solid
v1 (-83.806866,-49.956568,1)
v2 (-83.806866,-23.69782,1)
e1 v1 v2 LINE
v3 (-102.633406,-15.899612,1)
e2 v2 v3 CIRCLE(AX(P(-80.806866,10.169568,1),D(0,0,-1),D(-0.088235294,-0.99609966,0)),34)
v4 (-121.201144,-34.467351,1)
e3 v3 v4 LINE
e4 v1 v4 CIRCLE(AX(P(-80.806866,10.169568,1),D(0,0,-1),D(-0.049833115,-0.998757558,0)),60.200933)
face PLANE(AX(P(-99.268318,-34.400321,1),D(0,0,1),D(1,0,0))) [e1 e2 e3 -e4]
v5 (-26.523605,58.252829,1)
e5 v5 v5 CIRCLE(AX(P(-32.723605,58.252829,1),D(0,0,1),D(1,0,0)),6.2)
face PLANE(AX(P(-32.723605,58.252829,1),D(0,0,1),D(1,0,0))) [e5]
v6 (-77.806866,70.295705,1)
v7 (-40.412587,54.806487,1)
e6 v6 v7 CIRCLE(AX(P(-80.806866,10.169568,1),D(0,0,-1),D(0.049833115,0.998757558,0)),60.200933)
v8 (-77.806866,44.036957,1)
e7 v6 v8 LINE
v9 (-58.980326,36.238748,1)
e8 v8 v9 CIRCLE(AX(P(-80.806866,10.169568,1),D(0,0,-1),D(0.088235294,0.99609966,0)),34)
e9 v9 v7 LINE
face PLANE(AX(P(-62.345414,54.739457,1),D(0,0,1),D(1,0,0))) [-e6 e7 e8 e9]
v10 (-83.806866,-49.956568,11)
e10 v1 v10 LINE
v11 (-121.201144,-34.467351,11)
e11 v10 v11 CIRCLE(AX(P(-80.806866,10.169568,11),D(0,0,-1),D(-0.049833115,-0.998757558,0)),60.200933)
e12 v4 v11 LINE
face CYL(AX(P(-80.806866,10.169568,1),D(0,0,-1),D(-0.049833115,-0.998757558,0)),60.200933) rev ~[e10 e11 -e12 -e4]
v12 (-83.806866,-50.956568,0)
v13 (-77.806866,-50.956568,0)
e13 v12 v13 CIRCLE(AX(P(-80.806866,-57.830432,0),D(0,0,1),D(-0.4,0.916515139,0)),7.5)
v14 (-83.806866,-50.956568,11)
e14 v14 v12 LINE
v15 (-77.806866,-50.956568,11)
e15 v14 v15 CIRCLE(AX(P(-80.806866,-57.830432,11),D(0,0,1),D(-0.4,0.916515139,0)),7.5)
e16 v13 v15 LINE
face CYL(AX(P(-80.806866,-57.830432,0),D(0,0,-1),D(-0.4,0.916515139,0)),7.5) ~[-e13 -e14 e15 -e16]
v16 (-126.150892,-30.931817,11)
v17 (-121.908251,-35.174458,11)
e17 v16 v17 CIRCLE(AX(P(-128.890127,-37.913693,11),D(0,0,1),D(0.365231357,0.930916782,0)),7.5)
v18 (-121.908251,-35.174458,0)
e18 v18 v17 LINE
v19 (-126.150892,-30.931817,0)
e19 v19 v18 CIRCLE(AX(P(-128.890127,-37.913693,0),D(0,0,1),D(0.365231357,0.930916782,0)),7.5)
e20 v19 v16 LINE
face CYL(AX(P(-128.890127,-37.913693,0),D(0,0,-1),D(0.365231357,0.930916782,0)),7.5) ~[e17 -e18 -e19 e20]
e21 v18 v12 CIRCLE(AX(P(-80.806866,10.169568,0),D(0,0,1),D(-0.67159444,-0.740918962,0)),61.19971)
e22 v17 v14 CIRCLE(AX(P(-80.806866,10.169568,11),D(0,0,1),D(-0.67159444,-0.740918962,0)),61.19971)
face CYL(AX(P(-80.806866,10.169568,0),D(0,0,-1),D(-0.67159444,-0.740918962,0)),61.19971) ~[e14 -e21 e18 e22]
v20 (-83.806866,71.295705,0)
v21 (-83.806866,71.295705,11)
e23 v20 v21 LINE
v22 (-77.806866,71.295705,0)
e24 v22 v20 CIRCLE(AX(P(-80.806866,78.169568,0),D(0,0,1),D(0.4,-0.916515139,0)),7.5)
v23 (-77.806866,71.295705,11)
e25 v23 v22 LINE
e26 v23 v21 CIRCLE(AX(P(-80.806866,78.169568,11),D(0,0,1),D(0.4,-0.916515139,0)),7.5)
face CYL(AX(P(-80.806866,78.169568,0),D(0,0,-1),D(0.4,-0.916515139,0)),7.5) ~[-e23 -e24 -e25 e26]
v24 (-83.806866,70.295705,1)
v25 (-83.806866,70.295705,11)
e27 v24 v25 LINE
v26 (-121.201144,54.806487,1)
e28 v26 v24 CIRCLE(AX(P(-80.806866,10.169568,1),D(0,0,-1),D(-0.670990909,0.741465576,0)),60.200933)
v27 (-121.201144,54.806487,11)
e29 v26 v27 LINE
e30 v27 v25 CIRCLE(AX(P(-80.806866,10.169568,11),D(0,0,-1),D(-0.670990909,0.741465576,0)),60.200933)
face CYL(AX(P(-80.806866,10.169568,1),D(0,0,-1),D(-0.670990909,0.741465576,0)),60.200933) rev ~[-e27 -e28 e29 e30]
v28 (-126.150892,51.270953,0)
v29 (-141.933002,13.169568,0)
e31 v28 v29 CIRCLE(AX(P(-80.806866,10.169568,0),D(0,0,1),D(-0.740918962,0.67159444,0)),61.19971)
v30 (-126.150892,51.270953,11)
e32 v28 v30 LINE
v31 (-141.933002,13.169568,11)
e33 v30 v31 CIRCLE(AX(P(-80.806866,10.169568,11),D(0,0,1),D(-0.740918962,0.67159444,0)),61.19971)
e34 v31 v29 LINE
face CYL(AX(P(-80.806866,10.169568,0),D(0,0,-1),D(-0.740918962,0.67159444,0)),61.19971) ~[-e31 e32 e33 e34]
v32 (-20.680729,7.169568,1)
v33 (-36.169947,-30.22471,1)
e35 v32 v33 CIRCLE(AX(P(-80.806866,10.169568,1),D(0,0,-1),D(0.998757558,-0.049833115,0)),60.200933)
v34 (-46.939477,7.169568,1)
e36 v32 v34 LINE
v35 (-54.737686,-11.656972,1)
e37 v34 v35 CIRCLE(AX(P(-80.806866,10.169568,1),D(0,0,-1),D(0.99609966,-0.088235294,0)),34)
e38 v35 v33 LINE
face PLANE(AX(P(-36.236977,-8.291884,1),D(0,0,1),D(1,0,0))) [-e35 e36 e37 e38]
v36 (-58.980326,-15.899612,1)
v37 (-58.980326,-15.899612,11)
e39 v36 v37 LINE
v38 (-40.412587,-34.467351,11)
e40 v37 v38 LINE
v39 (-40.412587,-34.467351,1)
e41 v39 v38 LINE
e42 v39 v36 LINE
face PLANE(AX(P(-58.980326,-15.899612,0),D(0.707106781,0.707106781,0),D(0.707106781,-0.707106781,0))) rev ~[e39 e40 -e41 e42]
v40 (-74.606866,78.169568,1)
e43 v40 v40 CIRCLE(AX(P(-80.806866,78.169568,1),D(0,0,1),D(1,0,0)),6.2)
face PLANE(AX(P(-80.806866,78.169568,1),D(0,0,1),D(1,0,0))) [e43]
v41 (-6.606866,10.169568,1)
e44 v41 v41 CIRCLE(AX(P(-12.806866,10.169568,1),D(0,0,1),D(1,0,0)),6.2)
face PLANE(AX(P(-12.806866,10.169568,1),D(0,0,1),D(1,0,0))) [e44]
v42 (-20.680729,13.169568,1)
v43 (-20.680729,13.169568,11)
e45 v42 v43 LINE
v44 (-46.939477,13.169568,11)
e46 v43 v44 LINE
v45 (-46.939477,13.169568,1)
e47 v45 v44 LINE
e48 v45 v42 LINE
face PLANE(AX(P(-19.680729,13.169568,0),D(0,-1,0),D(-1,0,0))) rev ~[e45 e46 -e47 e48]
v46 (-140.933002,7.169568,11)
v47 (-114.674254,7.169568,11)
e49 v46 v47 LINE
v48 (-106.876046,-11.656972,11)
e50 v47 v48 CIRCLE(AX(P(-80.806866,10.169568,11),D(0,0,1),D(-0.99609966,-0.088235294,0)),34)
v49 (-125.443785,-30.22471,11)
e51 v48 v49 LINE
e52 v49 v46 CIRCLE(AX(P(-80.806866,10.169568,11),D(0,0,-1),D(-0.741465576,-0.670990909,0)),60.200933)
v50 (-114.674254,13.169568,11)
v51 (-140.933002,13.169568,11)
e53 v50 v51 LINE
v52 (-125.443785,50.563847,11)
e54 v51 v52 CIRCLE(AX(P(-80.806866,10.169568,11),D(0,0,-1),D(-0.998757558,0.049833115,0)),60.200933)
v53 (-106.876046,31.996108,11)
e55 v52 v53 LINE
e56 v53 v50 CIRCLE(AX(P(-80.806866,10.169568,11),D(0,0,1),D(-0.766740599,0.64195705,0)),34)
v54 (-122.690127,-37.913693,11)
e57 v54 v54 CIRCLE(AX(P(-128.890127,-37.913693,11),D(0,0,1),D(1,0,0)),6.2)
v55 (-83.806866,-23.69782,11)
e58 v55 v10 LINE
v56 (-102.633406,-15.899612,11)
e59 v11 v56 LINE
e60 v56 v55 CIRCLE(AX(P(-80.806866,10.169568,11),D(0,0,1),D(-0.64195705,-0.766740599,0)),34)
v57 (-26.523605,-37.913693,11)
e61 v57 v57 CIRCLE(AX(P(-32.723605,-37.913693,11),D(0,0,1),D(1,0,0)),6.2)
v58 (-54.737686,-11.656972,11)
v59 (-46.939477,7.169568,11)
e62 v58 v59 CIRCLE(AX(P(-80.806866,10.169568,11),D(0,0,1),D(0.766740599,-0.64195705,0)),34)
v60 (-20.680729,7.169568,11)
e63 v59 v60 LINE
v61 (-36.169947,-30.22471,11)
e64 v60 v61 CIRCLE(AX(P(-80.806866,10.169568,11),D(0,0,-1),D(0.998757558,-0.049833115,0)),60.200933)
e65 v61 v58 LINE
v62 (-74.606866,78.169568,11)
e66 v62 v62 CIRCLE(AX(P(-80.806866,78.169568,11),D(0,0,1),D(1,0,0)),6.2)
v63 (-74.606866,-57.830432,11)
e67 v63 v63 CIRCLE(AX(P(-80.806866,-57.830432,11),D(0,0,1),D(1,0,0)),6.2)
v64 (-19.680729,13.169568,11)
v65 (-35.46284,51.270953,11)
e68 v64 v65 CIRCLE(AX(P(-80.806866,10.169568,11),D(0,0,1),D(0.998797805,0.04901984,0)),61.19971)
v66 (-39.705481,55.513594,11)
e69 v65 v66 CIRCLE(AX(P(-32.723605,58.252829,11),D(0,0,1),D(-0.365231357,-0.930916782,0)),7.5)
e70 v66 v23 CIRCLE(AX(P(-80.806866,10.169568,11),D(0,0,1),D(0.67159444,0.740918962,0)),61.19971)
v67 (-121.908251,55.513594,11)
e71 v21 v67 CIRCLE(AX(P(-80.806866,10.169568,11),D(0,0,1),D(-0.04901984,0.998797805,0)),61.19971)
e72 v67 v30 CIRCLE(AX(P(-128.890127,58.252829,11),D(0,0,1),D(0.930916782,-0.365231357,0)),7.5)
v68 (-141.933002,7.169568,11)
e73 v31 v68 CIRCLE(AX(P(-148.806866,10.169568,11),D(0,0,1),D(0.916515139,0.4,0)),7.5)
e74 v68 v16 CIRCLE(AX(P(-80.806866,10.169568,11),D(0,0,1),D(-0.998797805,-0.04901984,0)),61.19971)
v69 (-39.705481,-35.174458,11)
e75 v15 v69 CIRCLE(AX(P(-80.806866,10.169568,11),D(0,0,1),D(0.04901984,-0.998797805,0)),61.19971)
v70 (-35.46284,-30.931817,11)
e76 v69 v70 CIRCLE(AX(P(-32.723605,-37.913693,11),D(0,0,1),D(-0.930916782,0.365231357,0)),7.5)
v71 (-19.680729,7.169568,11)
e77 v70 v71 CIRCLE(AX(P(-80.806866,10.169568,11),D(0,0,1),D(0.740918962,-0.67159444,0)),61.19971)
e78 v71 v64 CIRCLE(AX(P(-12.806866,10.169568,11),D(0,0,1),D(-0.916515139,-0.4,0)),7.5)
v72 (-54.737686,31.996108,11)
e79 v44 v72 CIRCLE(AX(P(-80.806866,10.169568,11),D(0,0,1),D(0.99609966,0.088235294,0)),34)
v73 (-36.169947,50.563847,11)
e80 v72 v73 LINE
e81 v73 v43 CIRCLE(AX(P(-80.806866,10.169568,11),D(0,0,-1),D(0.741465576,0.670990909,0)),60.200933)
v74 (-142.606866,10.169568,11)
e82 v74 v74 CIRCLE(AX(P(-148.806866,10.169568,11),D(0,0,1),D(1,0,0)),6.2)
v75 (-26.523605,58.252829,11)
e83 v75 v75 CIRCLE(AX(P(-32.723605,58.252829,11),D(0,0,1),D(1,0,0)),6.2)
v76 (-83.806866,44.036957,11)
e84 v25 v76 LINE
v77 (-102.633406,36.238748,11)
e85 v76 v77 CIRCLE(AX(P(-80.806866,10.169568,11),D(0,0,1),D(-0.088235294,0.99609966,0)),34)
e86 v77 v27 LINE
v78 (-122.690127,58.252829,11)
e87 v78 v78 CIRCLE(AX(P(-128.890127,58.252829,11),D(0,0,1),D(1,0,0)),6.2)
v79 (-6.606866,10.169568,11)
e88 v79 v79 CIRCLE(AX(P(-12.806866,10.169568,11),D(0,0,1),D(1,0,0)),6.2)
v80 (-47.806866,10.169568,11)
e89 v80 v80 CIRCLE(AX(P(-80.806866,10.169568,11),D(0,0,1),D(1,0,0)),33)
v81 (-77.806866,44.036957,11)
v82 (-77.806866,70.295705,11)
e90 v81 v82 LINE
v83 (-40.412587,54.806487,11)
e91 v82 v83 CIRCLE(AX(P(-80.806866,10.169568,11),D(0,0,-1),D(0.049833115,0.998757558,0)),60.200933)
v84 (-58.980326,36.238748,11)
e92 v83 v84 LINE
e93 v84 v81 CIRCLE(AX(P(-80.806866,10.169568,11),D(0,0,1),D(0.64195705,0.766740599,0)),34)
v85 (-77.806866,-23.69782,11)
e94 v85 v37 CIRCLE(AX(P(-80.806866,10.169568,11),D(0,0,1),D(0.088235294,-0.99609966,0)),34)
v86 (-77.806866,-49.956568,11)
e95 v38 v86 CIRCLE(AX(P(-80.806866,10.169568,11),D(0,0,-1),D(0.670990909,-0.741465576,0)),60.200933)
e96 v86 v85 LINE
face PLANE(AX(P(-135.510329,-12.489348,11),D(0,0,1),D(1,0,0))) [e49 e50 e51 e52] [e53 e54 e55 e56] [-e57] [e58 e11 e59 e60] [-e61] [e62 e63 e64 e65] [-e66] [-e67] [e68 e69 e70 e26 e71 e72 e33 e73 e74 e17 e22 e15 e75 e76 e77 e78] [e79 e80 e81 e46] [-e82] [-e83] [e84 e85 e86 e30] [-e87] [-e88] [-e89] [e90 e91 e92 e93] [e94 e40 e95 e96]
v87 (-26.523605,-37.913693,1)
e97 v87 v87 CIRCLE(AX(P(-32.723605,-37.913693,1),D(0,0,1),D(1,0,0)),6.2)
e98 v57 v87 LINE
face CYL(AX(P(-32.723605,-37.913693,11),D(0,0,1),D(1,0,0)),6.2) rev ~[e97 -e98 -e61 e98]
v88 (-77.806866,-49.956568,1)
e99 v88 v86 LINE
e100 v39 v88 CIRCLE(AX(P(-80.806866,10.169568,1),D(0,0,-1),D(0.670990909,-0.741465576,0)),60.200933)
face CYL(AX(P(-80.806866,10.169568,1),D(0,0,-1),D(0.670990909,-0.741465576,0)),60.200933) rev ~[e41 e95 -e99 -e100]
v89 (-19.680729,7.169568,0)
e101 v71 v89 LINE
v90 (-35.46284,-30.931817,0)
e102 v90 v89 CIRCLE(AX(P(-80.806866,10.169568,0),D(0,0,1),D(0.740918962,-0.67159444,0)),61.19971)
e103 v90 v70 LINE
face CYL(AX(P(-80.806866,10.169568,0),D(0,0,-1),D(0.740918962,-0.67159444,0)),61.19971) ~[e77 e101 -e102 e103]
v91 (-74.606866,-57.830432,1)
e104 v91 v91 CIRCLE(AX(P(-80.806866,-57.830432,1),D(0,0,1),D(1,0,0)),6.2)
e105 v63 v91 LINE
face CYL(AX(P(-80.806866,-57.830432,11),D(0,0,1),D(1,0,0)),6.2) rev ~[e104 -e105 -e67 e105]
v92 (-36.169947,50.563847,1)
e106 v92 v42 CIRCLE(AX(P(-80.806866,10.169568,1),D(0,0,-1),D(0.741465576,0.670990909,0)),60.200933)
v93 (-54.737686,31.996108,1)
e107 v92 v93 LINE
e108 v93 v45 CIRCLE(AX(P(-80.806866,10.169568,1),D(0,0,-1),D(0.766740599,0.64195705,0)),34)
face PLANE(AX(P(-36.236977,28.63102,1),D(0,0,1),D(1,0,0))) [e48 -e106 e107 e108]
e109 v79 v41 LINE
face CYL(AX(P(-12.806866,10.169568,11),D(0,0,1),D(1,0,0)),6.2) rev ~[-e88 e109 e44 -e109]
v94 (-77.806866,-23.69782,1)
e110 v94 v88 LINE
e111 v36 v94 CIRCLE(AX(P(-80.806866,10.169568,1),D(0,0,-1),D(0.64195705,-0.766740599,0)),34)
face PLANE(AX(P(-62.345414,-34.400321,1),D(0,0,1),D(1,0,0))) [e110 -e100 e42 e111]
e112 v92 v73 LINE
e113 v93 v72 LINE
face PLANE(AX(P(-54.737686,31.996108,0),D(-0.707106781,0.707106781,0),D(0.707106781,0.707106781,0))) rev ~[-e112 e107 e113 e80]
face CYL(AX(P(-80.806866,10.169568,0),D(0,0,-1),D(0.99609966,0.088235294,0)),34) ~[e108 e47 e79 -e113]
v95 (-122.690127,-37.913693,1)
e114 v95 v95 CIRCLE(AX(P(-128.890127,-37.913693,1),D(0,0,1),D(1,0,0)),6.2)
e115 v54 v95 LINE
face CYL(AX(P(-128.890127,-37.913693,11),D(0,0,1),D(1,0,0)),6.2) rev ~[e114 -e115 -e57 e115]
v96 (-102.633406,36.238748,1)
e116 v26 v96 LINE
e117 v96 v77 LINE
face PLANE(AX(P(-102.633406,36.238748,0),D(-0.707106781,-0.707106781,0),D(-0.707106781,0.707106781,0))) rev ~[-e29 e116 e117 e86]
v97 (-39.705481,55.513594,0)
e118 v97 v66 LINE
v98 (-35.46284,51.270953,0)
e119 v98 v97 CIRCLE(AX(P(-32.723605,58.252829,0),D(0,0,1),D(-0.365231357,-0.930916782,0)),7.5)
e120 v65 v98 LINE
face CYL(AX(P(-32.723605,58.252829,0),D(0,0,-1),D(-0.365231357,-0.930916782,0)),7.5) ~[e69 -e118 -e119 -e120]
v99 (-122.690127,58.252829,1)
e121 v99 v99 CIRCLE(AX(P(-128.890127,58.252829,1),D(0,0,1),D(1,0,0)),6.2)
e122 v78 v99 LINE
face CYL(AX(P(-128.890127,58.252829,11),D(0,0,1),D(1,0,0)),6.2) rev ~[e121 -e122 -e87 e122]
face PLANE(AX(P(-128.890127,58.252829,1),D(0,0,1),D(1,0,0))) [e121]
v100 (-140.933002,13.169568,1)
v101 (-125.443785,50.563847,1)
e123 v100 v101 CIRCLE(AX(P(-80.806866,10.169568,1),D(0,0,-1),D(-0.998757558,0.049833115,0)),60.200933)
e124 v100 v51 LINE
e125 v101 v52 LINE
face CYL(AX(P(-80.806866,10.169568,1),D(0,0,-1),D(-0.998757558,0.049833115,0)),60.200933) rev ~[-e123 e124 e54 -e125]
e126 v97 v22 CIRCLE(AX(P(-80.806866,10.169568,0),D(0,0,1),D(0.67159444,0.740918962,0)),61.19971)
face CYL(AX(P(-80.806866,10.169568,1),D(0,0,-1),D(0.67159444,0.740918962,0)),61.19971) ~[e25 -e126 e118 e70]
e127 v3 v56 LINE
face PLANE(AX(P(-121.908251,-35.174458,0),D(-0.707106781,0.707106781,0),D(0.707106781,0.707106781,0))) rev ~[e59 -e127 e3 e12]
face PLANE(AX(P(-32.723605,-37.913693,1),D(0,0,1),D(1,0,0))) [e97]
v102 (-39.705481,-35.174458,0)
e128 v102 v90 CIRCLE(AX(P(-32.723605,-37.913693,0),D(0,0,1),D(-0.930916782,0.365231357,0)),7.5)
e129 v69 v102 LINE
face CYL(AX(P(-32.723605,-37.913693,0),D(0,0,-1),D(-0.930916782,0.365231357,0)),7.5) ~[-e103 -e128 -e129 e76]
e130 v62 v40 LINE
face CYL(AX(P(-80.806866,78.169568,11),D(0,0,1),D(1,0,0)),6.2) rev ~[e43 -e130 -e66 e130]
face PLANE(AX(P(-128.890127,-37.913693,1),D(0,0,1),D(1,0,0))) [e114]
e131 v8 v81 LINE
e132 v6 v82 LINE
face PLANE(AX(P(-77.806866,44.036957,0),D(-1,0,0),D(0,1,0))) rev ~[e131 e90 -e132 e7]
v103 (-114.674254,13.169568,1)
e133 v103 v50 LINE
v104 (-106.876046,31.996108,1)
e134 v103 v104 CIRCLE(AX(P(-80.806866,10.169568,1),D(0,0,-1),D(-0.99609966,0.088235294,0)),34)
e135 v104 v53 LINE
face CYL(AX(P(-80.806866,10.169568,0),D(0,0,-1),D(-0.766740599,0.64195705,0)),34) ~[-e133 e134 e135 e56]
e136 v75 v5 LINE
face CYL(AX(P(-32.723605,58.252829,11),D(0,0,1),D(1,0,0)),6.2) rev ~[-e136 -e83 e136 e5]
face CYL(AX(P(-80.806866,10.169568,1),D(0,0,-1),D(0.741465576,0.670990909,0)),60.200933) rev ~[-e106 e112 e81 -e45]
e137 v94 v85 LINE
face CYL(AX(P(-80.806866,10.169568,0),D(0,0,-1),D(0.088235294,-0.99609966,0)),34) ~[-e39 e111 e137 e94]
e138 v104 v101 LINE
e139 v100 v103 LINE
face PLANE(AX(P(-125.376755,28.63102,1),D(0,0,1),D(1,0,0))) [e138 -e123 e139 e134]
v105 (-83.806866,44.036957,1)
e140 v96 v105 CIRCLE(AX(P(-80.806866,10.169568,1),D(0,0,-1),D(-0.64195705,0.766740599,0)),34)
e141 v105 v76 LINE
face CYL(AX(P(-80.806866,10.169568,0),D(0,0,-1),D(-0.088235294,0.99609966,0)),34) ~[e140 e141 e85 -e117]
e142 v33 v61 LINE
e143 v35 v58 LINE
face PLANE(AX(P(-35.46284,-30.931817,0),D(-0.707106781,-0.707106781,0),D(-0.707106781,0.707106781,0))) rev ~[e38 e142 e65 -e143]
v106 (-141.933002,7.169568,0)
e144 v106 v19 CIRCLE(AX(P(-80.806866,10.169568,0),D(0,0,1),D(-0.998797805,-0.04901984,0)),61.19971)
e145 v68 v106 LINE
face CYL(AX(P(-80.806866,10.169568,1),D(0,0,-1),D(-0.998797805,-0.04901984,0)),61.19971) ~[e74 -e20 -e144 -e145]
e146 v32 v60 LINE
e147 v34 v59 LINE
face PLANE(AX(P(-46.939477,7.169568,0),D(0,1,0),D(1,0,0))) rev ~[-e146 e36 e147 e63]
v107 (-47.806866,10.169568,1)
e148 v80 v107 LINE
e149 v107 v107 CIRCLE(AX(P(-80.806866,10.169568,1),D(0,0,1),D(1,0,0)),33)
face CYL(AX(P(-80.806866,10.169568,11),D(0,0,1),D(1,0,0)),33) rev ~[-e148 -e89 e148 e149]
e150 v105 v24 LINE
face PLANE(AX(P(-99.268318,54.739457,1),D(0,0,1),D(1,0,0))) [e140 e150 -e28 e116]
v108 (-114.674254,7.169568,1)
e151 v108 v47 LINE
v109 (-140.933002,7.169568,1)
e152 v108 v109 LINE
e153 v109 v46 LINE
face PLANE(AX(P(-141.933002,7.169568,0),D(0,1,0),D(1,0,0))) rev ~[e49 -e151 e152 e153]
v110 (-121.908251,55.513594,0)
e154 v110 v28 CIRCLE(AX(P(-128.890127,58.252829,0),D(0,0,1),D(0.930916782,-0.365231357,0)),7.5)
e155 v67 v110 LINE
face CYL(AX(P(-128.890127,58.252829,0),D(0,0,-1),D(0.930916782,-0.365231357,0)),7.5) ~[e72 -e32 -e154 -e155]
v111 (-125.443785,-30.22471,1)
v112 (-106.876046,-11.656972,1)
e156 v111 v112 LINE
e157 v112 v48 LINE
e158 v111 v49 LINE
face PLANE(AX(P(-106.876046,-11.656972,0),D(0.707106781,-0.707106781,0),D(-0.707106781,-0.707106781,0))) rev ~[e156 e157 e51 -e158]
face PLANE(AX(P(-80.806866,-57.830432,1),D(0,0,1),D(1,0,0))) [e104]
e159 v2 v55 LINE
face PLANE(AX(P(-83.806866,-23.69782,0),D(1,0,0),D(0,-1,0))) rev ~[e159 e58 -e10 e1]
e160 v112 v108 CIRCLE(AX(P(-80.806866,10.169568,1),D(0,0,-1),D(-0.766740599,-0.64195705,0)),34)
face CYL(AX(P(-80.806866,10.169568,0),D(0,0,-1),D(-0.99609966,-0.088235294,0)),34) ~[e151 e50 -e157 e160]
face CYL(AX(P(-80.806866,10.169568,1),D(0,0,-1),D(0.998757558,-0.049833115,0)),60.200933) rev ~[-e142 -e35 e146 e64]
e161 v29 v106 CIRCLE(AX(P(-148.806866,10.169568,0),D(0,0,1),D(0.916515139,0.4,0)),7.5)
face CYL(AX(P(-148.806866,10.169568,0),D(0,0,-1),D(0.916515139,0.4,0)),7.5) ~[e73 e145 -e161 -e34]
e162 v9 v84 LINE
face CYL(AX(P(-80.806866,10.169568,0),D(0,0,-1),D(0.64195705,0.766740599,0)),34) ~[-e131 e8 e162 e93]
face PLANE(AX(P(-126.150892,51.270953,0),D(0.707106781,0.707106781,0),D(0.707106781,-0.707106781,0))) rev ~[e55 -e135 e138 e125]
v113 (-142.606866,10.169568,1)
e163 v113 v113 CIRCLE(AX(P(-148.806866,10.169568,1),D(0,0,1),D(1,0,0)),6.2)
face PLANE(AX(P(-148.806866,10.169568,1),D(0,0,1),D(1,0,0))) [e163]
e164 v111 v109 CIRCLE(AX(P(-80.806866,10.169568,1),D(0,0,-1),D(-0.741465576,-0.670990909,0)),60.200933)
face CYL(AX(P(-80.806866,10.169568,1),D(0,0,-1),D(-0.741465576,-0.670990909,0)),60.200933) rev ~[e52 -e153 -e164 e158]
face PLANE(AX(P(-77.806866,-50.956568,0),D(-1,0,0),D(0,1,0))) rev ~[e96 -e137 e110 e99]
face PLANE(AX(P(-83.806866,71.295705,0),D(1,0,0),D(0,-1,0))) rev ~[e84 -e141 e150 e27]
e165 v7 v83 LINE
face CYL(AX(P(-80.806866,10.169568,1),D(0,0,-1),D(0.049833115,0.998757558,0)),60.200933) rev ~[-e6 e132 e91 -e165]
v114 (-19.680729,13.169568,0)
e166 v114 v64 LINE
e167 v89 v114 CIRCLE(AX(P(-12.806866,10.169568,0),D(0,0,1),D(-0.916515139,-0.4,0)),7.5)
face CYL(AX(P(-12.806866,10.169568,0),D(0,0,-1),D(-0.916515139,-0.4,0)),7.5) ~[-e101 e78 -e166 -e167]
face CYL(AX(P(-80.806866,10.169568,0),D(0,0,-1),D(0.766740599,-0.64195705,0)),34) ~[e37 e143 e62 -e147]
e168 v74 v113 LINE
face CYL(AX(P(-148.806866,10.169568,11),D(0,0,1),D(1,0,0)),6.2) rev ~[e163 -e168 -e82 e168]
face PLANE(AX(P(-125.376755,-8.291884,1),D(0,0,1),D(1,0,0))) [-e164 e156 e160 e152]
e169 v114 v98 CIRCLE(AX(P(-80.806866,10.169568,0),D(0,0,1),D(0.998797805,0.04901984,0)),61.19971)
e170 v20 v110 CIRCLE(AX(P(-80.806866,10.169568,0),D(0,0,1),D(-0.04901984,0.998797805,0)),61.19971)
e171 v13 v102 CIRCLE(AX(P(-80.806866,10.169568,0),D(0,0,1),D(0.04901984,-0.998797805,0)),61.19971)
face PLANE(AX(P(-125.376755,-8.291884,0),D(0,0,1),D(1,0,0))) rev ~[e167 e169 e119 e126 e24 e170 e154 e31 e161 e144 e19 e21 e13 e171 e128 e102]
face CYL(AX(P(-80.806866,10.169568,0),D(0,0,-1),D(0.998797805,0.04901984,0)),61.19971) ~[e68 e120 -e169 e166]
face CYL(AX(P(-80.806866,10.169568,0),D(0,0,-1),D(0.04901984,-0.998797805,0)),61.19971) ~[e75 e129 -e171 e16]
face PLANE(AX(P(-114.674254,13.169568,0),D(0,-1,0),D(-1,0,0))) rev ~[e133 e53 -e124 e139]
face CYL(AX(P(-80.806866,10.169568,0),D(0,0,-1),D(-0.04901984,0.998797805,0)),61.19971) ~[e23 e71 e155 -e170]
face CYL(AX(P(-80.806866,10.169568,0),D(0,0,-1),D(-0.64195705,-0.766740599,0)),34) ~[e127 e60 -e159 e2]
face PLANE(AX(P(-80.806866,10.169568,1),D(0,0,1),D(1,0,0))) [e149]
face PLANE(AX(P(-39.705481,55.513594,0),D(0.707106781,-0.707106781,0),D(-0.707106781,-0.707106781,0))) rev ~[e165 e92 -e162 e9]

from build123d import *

# Parameters (mm, degrees)
SALIENTE_EXTRUIR1_DEPTH = 11
CROQUIS2_R              = 33
CROQUIS2_R_2            = 6.2
CORTAR_EXTRUIR1_DEPTH   = 10
SALIENTE_EXTRUIR2_DEPTH = 1
SALIENTE_EXTRUIR3_DEPTH = 10


with BuildPart() as part:
    # Croquis1 → Saliente-Extruir1 (new body)
    with BuildSketch(Plane.XY):
        with BuildLine():
            Line((-39.705480667, 55.513594064), (-58.980326234, 36.238748497))
            ThreePointArc((-58.980326234, 36.238748497), (-67.79562922, 41.581472229), (-77.806865921, 44.036956568))
            Line((-77.806865921, 44.036956568), (-77.806865921, 71.295704582))
            ThreePointArc((-77.806865921, 71.295704582), (-80.806865921, 85.669568124), (-83.806865921, 71.295704582))
            Line((-83.806865921, 71.295704582), (-83.806865921, 44.036956568))
            ThreePointArc((-83.806865921, 44.036956568), (-93.818102621, 41.581472229), (-102.633405607, 36.238748497))
            Line((-102.633405607, 36.238748497), (-121.908251174, 55.513594064))
            ThreePointArc((-121.908251174, 55.513594064), (-134.1934279, 63.556130104), (-126.150891861, 51.270953377))
            Line((-126.150891861, 51.270953377), (-106.876046294, 31.99610781))
            ThreePointArc((-106.876046294, 31.99610781), (-112.218770026, 23.180804824), (-114.674254364, 13.169568124))
            Line((-114.674254364, 13.169568124), (-141.933002378, 13.169568124))
            ThreePointArc((-141.933002378, 13.169568124), (-156.306865921, 10.169568124), (-141.933002378, 7.169568124))
            Line((-141.933002378, 7.169568124), (-114.674254364, 7.169568124))
            ThreePointArc((-114.674254364, 7.169568124), (-112.218770026, -2.841668576), (-106.876046294, -11.656971562))
            Line((-106.876046294, -11.656971562), (-126.150891861, -30.931817129))
            ThreePointArc((-126.150891861, -30.931817129), (-134.1934279, -43.216993856), (-121.908251174, -35.174457817))
            Line((-121.908251174, -35.174457817), (-102.633405607, -15.899612249))
            ThreePointArc((-102.633405607, -15.899612249), (-93.818102621, -21.242335981), (-83.806865921, -23.69782032))
            Line((-83.806865921, -23.69782032), (-83.806865921, -50.956568334))
            ThreePointArc((-83.806865921, -50.956568334), (-80.806865921, -65.330431876), (-77.806865921, -50.956568334))
            Line((-77.806865921, -50.956568334), (-77.806865921, -23.69782032))
            ThreePointArc((-77.806865921, -23.69782032), (-67.79562922, -21.242335981), (-58.980326234, -15.899612249))
            Line((-58.980326234, -15.899612249), (-39.705480667, -35.174457816))
            ThreePointArc((-39.705480667, -35.174457816), (-27.420303941, -43.216993856), (-35.46283998, -30.931817129))
            Line((-35.46283998, -30.931817129), (-54.737685547, -11.656971562))
            ThreePointArc((-54.737685547, -11.656971562), (-49.394961815, -2.841668576), (-46.939477477, 7.169568124))
            Line((-46.939477477, 7.169568124), (-19.680729463, 7.169568124))
            ThreePointArc((-19.680729463, 7.169568124), (-5.306865921, 10.169568124), (-19.680729463, 13.169568124))
            Line((-19.680729463, 13.169568124), (-46.939477477, 13.169568124))
            ThreePointArc((-46.939477477, 13.169568124), (-49.394961815, 23.180804824), (-54.737685547, 31.99610781))
            Line((-54.737685547, 31.99610781), (-35.46283998, 51.270953377))
            ThreePointArc((-35.46283998, 51.270953377), (-27.420303941, 63.556130104), (-39.705480667, 55.513594064))
        make_face()
    extrude(amount=SALIENTE_EXTRUIR1_DEPTH)

    # Croquis2 → Cortar-Extruir1 (cut)
    with BuildSketch(Plane.XY.offset(11)):
        with Locations((-80.806865921, 10.169568124)):
            Circle(CROQUIS2_R)
        with Locations((-128.890127041, 58.252829245)):
            Circle(CROQUIS2_R_2)
        with Locations((-80.806865921, 78.169568124)):
            Circle(CROQUIS2_R_2)
        with Locations((-32.7236048, 58.252829245)):
            Circle(CROQUIS2_R_2)
        with Locations((-12.806865921, 10.169568124)):
            Circle(CROQUIS2_R_2)
        with Locations((-32.7236048, -37.913692997)):
            Circle(CROQUIS2_R_2)
        with Locations((-80.806865921, -57.830431876)):
            Circle(CROQUIS2_R_2)
        with Locations((-128.890127041, -37.913692997)):
            Circle(CROQUIS2_R_2)
        with Locations((-148.806865921, 10.169568124)):
            Circle(CROQUIS2_R_2)
    extrude(amount=-CORTAR_EXTRUIR1_DEPTH, mode=Mode.SUBTRACT)

    # Croquis3 → Saliente-Extruir2 (add)
    with BuildSketch(Plane(origin=(0, 0, 0), x_dir=(-1, 0, 0), z_dir=(0, 0, -1))):
        with BuildLine():
            Line((114.674254364, 7.169568124), (141.933002378, 7.169568124))
            ThreePointArc((141.933002378, 7.169568124), (137.348025794, -13.250547128), (126.150891861, -30.931817129))
            Line((126.150891861, -30.931817129), (106.876046294, -11.656971562))
            ThreePointArc((106.876046294, -11.656971562), (112.218770026, -2.841668576), (114.674254364, 7.169568124))
        make_face()
        with BuildLine():
            Line((102.633405607, -15.899612249), (121.908251174, -35.174457816))
            ThreePointArc((121.908251174, -35.174457816), (104.226981172, -46.371591749), (83.806865921, -50.956568334))
            Line((83.806865921, -50.956568334), (83.806865921, -23.69782032))
            ThreePointArc((83.806865921, -23.69782032), (93.818102621, -21.242335981), (102.633405607, -15.899612249))
        make_face()
        with BuildLine():
            Line((77.806865921, -23.69782032), (77.806865921, -50.956568334))
            ThreePointArc((77.806865921, -50.956568334), (57.386750669, -46.371591749), (39.705480667, -35.174457816))
            Line((39.705480667, -35.174457816), (58.980326234, -15.899612249))
            ThreePointArc((58.980326234, -15.899612249), (67.79562922, -21.242335981), (77.806865921, -23.69782032))
        make_face()
        with BuildLine():
            Line((54.737685547, -11.656971562), (35.46283998, -30.931817129))
            ThreePointArc((35.46283998, -30.931817129), (24.265706047, -13.250547128), (19.680729463, 7.169568124))
            Line((19.680729463, 7.169568124), (46.939477477, 7.169568124))
            ThreePointArc((46.939477477, 7.169568124), (49.394961815, -2.841668576), (54.737685547, -11.656971562))
        make_face()
        with BuildLine():
            Line((46.939477477, 13.169568124), (19.680729463, 13.169568124))
            ThreePointArc((19.680729463, 13.169568124), (24.265706047, 33.589683376), (35.46283998, 51.270953377))
            Line((35.46283998, 51.270953377), (54.737685547, 31.99610781))
            ThreePointArc((54.737685547, 31.99610781), (49.394961815, 23.180804824), (46.939477477, 13.169568124))
        make_face()
        with BuildLine():
            Line((58.980326234, 36.238748497), (39.705480667, 55.513594064))
            ThreePointArc((39.705480667, 55.513594064), (57.386750669, 66.710727997), (77.806865921, 71.295704581))
            Line((77.806865921, 71.295704581), (77.806865921, 44.036956568))
            ThreePointArc((77.806865921, 44.036956568), (67.79562922, 41.581472229), (58.980326234, 36.238748497))
        make_face()
        with BuildLine():
            Line((83.806865921, 44.036956568), (83.806865921, 71.295704581))
            ThreePointArc((83.806865921, 71.295704581), (104.226981172, 66.710727997), (121.908251174, 55.513594064))
            Line((121.908251174, 55.513594064), (102.633405607, 36.238748497))
            ThreePointArc((102.633405607, 36.238748497), (93.818102621, 41.581472229), (83.806865921, 44.036956568))
        make_face()
        with BuildLine():
            Line((106.876046294, 31.99610781), (126.150891861, 51.270953377))
            ThreePointArc((126.150891861, 51.270953377), (137.348025794, 33.589683376), (141.933002378, 13.169568124))
            Line((141.933002378, 13.169568124), (114.674254364, 13.169568124))
            ThreePointArc((114.674254364, 13.169568124), (112.218770026, 23.180804824), (106.876046294, 31.99610781))
        make_face()
    extrude(amount=-SALIENTE_EXTRUIR2_DEPTH)

    # Croquis4 → Saliente-Extruir3 (add)
    with BuildSketch(Plane.XY.offset(1)):
        with BuildLine():
            Line((-126.150891861, -30.931817129), (-125.44378508, -30.224710348))
            ThreePointArc((-125.44378508, -30.224710348), (-136.425275383, -12.868331393), (-140.933002378, 7.169568124))
            Line((-140.933002378, 7.169568124), (-141.933002378, 7.169568124))
            ThreePointArc((-141.933002378, 7.169568124), (-137.348025794, -13.250547128), (-126.150891861, -30.931817129))
        make_face()
        with BuildLine():
            Line((-141.933002378, 13.169568124), (-140.933002378, 13.169568124))
            ThreePointArc((-140.933002378, 13.169568124), (-136.425275383, 33.207467641), (-125.44378508, 50.563846596))
            Line((-125.44378508, 50.563846596), (-126.150891861, 51.270953377))
            ThreePointArc((-126.150891861, 51.270953377), (-137.348025794, 33.589683376), (-141.933002378, 13.169568124))
        make_face()
        with BuildLine():
            Line((-121.908251174, 55.513594064), (-121.201144393, 54.806487283))
            ThreePointArc((-121.201144393, 54.806487283), (-103.844765438, 65.787977587), (-83.806865921, 70.295704581))
            Line((-83.806865921, 70.295704581), (-83.806865921, 71.295704581))
            ThreePointArc((-83.806865921, 71.295704581), (-104.226981172, 66.710727997), (-121.908251174, 55.513594064))
        make_face()
        with BuildLine():
            Line((-77.806865921, 71.295704581), (-77.806865921, 70.295704581))
            ThreePointArc((-77.806865921, 70.295704581), (-57.768966404, 65.787977587), (-40.412587448, 54.806487283))
            Line((-40.412587448, 54.806487283), (-39.705480667, 55.513594064))
            ThreePointArc((-39.705480667, 55.513594064), (-57.386750669, 66.710727997), (-77.806865921, 71.295704581))
        make_face()
        with BuildLine():
            Line((-35.46283998, 51.270953377), (-36.169946761, 50.563846596))
            ThreePointArc((-36.169946761, 50.563846596), (-25.188456458, 33.207467641), (-20.680729463, 13.169568124))
            Line((-20.680729463, 13.169568124), (-19.680729463, 13.169568124))
            ThreePointArc((-19.680729463, 13.169568124), (-24.265706047, 33.589683376), (-35.46283998, 51.270953377))
        make_face()
        with BuildLine():
            Line((-19.680729463, 7.169568124), (-20.680729463, 7.169568124))
            ThreePointArc((-20.680729463, 7.169568124), (-25.188456458, -12.868331393), (-36.169946761, -30.224710348))
            Line((-36.169946761, -30.224710348), (-35.46283998, -30.931817129))
            ThreePointArc((-35.46283998, -30.931817129), (-24.265706047, -13.250547128), (-19.680729463, 7.169568124))
        make_face()
        with BuildLine():
            Line((-39.705480667, -35.174457816), (-40.412587448, -34.467351035))
            ThreePointArc((-40.412587448, -34.467351035), (-57.768966404, -45.448841339), (-77.806865921, -49.956568334))
            Line((-77.806865921, -49.956568334), (-77.806865921, -50.956568334))
            ThreePointArc((-77.806865921, -50.956568334), (-57.386750669, -46.371591749), (-39.705480667, -35.174457816))
        make_face()
        with BuildLine():
            Line((-83.806865921, -50.956568334), (-83.806865921, -49.956568334))
            ThreePointArc((-83.806865921, -49.956568334), (-103.844765438, -45.448841339), (-121.201144393, -34.467351035))
            Line((-121.201144393, -34.467351035), (-121.908251174, -35.174457816))
            ThreePointArc((-121.908251174, -35.174457816), (-104.226981172, -46.371591749), (-83.806865921, -50.956568334))
        make_face()
    extrude(amount=SALIENTE_EXTRUIR3_DEPTH)


solid = part.part
